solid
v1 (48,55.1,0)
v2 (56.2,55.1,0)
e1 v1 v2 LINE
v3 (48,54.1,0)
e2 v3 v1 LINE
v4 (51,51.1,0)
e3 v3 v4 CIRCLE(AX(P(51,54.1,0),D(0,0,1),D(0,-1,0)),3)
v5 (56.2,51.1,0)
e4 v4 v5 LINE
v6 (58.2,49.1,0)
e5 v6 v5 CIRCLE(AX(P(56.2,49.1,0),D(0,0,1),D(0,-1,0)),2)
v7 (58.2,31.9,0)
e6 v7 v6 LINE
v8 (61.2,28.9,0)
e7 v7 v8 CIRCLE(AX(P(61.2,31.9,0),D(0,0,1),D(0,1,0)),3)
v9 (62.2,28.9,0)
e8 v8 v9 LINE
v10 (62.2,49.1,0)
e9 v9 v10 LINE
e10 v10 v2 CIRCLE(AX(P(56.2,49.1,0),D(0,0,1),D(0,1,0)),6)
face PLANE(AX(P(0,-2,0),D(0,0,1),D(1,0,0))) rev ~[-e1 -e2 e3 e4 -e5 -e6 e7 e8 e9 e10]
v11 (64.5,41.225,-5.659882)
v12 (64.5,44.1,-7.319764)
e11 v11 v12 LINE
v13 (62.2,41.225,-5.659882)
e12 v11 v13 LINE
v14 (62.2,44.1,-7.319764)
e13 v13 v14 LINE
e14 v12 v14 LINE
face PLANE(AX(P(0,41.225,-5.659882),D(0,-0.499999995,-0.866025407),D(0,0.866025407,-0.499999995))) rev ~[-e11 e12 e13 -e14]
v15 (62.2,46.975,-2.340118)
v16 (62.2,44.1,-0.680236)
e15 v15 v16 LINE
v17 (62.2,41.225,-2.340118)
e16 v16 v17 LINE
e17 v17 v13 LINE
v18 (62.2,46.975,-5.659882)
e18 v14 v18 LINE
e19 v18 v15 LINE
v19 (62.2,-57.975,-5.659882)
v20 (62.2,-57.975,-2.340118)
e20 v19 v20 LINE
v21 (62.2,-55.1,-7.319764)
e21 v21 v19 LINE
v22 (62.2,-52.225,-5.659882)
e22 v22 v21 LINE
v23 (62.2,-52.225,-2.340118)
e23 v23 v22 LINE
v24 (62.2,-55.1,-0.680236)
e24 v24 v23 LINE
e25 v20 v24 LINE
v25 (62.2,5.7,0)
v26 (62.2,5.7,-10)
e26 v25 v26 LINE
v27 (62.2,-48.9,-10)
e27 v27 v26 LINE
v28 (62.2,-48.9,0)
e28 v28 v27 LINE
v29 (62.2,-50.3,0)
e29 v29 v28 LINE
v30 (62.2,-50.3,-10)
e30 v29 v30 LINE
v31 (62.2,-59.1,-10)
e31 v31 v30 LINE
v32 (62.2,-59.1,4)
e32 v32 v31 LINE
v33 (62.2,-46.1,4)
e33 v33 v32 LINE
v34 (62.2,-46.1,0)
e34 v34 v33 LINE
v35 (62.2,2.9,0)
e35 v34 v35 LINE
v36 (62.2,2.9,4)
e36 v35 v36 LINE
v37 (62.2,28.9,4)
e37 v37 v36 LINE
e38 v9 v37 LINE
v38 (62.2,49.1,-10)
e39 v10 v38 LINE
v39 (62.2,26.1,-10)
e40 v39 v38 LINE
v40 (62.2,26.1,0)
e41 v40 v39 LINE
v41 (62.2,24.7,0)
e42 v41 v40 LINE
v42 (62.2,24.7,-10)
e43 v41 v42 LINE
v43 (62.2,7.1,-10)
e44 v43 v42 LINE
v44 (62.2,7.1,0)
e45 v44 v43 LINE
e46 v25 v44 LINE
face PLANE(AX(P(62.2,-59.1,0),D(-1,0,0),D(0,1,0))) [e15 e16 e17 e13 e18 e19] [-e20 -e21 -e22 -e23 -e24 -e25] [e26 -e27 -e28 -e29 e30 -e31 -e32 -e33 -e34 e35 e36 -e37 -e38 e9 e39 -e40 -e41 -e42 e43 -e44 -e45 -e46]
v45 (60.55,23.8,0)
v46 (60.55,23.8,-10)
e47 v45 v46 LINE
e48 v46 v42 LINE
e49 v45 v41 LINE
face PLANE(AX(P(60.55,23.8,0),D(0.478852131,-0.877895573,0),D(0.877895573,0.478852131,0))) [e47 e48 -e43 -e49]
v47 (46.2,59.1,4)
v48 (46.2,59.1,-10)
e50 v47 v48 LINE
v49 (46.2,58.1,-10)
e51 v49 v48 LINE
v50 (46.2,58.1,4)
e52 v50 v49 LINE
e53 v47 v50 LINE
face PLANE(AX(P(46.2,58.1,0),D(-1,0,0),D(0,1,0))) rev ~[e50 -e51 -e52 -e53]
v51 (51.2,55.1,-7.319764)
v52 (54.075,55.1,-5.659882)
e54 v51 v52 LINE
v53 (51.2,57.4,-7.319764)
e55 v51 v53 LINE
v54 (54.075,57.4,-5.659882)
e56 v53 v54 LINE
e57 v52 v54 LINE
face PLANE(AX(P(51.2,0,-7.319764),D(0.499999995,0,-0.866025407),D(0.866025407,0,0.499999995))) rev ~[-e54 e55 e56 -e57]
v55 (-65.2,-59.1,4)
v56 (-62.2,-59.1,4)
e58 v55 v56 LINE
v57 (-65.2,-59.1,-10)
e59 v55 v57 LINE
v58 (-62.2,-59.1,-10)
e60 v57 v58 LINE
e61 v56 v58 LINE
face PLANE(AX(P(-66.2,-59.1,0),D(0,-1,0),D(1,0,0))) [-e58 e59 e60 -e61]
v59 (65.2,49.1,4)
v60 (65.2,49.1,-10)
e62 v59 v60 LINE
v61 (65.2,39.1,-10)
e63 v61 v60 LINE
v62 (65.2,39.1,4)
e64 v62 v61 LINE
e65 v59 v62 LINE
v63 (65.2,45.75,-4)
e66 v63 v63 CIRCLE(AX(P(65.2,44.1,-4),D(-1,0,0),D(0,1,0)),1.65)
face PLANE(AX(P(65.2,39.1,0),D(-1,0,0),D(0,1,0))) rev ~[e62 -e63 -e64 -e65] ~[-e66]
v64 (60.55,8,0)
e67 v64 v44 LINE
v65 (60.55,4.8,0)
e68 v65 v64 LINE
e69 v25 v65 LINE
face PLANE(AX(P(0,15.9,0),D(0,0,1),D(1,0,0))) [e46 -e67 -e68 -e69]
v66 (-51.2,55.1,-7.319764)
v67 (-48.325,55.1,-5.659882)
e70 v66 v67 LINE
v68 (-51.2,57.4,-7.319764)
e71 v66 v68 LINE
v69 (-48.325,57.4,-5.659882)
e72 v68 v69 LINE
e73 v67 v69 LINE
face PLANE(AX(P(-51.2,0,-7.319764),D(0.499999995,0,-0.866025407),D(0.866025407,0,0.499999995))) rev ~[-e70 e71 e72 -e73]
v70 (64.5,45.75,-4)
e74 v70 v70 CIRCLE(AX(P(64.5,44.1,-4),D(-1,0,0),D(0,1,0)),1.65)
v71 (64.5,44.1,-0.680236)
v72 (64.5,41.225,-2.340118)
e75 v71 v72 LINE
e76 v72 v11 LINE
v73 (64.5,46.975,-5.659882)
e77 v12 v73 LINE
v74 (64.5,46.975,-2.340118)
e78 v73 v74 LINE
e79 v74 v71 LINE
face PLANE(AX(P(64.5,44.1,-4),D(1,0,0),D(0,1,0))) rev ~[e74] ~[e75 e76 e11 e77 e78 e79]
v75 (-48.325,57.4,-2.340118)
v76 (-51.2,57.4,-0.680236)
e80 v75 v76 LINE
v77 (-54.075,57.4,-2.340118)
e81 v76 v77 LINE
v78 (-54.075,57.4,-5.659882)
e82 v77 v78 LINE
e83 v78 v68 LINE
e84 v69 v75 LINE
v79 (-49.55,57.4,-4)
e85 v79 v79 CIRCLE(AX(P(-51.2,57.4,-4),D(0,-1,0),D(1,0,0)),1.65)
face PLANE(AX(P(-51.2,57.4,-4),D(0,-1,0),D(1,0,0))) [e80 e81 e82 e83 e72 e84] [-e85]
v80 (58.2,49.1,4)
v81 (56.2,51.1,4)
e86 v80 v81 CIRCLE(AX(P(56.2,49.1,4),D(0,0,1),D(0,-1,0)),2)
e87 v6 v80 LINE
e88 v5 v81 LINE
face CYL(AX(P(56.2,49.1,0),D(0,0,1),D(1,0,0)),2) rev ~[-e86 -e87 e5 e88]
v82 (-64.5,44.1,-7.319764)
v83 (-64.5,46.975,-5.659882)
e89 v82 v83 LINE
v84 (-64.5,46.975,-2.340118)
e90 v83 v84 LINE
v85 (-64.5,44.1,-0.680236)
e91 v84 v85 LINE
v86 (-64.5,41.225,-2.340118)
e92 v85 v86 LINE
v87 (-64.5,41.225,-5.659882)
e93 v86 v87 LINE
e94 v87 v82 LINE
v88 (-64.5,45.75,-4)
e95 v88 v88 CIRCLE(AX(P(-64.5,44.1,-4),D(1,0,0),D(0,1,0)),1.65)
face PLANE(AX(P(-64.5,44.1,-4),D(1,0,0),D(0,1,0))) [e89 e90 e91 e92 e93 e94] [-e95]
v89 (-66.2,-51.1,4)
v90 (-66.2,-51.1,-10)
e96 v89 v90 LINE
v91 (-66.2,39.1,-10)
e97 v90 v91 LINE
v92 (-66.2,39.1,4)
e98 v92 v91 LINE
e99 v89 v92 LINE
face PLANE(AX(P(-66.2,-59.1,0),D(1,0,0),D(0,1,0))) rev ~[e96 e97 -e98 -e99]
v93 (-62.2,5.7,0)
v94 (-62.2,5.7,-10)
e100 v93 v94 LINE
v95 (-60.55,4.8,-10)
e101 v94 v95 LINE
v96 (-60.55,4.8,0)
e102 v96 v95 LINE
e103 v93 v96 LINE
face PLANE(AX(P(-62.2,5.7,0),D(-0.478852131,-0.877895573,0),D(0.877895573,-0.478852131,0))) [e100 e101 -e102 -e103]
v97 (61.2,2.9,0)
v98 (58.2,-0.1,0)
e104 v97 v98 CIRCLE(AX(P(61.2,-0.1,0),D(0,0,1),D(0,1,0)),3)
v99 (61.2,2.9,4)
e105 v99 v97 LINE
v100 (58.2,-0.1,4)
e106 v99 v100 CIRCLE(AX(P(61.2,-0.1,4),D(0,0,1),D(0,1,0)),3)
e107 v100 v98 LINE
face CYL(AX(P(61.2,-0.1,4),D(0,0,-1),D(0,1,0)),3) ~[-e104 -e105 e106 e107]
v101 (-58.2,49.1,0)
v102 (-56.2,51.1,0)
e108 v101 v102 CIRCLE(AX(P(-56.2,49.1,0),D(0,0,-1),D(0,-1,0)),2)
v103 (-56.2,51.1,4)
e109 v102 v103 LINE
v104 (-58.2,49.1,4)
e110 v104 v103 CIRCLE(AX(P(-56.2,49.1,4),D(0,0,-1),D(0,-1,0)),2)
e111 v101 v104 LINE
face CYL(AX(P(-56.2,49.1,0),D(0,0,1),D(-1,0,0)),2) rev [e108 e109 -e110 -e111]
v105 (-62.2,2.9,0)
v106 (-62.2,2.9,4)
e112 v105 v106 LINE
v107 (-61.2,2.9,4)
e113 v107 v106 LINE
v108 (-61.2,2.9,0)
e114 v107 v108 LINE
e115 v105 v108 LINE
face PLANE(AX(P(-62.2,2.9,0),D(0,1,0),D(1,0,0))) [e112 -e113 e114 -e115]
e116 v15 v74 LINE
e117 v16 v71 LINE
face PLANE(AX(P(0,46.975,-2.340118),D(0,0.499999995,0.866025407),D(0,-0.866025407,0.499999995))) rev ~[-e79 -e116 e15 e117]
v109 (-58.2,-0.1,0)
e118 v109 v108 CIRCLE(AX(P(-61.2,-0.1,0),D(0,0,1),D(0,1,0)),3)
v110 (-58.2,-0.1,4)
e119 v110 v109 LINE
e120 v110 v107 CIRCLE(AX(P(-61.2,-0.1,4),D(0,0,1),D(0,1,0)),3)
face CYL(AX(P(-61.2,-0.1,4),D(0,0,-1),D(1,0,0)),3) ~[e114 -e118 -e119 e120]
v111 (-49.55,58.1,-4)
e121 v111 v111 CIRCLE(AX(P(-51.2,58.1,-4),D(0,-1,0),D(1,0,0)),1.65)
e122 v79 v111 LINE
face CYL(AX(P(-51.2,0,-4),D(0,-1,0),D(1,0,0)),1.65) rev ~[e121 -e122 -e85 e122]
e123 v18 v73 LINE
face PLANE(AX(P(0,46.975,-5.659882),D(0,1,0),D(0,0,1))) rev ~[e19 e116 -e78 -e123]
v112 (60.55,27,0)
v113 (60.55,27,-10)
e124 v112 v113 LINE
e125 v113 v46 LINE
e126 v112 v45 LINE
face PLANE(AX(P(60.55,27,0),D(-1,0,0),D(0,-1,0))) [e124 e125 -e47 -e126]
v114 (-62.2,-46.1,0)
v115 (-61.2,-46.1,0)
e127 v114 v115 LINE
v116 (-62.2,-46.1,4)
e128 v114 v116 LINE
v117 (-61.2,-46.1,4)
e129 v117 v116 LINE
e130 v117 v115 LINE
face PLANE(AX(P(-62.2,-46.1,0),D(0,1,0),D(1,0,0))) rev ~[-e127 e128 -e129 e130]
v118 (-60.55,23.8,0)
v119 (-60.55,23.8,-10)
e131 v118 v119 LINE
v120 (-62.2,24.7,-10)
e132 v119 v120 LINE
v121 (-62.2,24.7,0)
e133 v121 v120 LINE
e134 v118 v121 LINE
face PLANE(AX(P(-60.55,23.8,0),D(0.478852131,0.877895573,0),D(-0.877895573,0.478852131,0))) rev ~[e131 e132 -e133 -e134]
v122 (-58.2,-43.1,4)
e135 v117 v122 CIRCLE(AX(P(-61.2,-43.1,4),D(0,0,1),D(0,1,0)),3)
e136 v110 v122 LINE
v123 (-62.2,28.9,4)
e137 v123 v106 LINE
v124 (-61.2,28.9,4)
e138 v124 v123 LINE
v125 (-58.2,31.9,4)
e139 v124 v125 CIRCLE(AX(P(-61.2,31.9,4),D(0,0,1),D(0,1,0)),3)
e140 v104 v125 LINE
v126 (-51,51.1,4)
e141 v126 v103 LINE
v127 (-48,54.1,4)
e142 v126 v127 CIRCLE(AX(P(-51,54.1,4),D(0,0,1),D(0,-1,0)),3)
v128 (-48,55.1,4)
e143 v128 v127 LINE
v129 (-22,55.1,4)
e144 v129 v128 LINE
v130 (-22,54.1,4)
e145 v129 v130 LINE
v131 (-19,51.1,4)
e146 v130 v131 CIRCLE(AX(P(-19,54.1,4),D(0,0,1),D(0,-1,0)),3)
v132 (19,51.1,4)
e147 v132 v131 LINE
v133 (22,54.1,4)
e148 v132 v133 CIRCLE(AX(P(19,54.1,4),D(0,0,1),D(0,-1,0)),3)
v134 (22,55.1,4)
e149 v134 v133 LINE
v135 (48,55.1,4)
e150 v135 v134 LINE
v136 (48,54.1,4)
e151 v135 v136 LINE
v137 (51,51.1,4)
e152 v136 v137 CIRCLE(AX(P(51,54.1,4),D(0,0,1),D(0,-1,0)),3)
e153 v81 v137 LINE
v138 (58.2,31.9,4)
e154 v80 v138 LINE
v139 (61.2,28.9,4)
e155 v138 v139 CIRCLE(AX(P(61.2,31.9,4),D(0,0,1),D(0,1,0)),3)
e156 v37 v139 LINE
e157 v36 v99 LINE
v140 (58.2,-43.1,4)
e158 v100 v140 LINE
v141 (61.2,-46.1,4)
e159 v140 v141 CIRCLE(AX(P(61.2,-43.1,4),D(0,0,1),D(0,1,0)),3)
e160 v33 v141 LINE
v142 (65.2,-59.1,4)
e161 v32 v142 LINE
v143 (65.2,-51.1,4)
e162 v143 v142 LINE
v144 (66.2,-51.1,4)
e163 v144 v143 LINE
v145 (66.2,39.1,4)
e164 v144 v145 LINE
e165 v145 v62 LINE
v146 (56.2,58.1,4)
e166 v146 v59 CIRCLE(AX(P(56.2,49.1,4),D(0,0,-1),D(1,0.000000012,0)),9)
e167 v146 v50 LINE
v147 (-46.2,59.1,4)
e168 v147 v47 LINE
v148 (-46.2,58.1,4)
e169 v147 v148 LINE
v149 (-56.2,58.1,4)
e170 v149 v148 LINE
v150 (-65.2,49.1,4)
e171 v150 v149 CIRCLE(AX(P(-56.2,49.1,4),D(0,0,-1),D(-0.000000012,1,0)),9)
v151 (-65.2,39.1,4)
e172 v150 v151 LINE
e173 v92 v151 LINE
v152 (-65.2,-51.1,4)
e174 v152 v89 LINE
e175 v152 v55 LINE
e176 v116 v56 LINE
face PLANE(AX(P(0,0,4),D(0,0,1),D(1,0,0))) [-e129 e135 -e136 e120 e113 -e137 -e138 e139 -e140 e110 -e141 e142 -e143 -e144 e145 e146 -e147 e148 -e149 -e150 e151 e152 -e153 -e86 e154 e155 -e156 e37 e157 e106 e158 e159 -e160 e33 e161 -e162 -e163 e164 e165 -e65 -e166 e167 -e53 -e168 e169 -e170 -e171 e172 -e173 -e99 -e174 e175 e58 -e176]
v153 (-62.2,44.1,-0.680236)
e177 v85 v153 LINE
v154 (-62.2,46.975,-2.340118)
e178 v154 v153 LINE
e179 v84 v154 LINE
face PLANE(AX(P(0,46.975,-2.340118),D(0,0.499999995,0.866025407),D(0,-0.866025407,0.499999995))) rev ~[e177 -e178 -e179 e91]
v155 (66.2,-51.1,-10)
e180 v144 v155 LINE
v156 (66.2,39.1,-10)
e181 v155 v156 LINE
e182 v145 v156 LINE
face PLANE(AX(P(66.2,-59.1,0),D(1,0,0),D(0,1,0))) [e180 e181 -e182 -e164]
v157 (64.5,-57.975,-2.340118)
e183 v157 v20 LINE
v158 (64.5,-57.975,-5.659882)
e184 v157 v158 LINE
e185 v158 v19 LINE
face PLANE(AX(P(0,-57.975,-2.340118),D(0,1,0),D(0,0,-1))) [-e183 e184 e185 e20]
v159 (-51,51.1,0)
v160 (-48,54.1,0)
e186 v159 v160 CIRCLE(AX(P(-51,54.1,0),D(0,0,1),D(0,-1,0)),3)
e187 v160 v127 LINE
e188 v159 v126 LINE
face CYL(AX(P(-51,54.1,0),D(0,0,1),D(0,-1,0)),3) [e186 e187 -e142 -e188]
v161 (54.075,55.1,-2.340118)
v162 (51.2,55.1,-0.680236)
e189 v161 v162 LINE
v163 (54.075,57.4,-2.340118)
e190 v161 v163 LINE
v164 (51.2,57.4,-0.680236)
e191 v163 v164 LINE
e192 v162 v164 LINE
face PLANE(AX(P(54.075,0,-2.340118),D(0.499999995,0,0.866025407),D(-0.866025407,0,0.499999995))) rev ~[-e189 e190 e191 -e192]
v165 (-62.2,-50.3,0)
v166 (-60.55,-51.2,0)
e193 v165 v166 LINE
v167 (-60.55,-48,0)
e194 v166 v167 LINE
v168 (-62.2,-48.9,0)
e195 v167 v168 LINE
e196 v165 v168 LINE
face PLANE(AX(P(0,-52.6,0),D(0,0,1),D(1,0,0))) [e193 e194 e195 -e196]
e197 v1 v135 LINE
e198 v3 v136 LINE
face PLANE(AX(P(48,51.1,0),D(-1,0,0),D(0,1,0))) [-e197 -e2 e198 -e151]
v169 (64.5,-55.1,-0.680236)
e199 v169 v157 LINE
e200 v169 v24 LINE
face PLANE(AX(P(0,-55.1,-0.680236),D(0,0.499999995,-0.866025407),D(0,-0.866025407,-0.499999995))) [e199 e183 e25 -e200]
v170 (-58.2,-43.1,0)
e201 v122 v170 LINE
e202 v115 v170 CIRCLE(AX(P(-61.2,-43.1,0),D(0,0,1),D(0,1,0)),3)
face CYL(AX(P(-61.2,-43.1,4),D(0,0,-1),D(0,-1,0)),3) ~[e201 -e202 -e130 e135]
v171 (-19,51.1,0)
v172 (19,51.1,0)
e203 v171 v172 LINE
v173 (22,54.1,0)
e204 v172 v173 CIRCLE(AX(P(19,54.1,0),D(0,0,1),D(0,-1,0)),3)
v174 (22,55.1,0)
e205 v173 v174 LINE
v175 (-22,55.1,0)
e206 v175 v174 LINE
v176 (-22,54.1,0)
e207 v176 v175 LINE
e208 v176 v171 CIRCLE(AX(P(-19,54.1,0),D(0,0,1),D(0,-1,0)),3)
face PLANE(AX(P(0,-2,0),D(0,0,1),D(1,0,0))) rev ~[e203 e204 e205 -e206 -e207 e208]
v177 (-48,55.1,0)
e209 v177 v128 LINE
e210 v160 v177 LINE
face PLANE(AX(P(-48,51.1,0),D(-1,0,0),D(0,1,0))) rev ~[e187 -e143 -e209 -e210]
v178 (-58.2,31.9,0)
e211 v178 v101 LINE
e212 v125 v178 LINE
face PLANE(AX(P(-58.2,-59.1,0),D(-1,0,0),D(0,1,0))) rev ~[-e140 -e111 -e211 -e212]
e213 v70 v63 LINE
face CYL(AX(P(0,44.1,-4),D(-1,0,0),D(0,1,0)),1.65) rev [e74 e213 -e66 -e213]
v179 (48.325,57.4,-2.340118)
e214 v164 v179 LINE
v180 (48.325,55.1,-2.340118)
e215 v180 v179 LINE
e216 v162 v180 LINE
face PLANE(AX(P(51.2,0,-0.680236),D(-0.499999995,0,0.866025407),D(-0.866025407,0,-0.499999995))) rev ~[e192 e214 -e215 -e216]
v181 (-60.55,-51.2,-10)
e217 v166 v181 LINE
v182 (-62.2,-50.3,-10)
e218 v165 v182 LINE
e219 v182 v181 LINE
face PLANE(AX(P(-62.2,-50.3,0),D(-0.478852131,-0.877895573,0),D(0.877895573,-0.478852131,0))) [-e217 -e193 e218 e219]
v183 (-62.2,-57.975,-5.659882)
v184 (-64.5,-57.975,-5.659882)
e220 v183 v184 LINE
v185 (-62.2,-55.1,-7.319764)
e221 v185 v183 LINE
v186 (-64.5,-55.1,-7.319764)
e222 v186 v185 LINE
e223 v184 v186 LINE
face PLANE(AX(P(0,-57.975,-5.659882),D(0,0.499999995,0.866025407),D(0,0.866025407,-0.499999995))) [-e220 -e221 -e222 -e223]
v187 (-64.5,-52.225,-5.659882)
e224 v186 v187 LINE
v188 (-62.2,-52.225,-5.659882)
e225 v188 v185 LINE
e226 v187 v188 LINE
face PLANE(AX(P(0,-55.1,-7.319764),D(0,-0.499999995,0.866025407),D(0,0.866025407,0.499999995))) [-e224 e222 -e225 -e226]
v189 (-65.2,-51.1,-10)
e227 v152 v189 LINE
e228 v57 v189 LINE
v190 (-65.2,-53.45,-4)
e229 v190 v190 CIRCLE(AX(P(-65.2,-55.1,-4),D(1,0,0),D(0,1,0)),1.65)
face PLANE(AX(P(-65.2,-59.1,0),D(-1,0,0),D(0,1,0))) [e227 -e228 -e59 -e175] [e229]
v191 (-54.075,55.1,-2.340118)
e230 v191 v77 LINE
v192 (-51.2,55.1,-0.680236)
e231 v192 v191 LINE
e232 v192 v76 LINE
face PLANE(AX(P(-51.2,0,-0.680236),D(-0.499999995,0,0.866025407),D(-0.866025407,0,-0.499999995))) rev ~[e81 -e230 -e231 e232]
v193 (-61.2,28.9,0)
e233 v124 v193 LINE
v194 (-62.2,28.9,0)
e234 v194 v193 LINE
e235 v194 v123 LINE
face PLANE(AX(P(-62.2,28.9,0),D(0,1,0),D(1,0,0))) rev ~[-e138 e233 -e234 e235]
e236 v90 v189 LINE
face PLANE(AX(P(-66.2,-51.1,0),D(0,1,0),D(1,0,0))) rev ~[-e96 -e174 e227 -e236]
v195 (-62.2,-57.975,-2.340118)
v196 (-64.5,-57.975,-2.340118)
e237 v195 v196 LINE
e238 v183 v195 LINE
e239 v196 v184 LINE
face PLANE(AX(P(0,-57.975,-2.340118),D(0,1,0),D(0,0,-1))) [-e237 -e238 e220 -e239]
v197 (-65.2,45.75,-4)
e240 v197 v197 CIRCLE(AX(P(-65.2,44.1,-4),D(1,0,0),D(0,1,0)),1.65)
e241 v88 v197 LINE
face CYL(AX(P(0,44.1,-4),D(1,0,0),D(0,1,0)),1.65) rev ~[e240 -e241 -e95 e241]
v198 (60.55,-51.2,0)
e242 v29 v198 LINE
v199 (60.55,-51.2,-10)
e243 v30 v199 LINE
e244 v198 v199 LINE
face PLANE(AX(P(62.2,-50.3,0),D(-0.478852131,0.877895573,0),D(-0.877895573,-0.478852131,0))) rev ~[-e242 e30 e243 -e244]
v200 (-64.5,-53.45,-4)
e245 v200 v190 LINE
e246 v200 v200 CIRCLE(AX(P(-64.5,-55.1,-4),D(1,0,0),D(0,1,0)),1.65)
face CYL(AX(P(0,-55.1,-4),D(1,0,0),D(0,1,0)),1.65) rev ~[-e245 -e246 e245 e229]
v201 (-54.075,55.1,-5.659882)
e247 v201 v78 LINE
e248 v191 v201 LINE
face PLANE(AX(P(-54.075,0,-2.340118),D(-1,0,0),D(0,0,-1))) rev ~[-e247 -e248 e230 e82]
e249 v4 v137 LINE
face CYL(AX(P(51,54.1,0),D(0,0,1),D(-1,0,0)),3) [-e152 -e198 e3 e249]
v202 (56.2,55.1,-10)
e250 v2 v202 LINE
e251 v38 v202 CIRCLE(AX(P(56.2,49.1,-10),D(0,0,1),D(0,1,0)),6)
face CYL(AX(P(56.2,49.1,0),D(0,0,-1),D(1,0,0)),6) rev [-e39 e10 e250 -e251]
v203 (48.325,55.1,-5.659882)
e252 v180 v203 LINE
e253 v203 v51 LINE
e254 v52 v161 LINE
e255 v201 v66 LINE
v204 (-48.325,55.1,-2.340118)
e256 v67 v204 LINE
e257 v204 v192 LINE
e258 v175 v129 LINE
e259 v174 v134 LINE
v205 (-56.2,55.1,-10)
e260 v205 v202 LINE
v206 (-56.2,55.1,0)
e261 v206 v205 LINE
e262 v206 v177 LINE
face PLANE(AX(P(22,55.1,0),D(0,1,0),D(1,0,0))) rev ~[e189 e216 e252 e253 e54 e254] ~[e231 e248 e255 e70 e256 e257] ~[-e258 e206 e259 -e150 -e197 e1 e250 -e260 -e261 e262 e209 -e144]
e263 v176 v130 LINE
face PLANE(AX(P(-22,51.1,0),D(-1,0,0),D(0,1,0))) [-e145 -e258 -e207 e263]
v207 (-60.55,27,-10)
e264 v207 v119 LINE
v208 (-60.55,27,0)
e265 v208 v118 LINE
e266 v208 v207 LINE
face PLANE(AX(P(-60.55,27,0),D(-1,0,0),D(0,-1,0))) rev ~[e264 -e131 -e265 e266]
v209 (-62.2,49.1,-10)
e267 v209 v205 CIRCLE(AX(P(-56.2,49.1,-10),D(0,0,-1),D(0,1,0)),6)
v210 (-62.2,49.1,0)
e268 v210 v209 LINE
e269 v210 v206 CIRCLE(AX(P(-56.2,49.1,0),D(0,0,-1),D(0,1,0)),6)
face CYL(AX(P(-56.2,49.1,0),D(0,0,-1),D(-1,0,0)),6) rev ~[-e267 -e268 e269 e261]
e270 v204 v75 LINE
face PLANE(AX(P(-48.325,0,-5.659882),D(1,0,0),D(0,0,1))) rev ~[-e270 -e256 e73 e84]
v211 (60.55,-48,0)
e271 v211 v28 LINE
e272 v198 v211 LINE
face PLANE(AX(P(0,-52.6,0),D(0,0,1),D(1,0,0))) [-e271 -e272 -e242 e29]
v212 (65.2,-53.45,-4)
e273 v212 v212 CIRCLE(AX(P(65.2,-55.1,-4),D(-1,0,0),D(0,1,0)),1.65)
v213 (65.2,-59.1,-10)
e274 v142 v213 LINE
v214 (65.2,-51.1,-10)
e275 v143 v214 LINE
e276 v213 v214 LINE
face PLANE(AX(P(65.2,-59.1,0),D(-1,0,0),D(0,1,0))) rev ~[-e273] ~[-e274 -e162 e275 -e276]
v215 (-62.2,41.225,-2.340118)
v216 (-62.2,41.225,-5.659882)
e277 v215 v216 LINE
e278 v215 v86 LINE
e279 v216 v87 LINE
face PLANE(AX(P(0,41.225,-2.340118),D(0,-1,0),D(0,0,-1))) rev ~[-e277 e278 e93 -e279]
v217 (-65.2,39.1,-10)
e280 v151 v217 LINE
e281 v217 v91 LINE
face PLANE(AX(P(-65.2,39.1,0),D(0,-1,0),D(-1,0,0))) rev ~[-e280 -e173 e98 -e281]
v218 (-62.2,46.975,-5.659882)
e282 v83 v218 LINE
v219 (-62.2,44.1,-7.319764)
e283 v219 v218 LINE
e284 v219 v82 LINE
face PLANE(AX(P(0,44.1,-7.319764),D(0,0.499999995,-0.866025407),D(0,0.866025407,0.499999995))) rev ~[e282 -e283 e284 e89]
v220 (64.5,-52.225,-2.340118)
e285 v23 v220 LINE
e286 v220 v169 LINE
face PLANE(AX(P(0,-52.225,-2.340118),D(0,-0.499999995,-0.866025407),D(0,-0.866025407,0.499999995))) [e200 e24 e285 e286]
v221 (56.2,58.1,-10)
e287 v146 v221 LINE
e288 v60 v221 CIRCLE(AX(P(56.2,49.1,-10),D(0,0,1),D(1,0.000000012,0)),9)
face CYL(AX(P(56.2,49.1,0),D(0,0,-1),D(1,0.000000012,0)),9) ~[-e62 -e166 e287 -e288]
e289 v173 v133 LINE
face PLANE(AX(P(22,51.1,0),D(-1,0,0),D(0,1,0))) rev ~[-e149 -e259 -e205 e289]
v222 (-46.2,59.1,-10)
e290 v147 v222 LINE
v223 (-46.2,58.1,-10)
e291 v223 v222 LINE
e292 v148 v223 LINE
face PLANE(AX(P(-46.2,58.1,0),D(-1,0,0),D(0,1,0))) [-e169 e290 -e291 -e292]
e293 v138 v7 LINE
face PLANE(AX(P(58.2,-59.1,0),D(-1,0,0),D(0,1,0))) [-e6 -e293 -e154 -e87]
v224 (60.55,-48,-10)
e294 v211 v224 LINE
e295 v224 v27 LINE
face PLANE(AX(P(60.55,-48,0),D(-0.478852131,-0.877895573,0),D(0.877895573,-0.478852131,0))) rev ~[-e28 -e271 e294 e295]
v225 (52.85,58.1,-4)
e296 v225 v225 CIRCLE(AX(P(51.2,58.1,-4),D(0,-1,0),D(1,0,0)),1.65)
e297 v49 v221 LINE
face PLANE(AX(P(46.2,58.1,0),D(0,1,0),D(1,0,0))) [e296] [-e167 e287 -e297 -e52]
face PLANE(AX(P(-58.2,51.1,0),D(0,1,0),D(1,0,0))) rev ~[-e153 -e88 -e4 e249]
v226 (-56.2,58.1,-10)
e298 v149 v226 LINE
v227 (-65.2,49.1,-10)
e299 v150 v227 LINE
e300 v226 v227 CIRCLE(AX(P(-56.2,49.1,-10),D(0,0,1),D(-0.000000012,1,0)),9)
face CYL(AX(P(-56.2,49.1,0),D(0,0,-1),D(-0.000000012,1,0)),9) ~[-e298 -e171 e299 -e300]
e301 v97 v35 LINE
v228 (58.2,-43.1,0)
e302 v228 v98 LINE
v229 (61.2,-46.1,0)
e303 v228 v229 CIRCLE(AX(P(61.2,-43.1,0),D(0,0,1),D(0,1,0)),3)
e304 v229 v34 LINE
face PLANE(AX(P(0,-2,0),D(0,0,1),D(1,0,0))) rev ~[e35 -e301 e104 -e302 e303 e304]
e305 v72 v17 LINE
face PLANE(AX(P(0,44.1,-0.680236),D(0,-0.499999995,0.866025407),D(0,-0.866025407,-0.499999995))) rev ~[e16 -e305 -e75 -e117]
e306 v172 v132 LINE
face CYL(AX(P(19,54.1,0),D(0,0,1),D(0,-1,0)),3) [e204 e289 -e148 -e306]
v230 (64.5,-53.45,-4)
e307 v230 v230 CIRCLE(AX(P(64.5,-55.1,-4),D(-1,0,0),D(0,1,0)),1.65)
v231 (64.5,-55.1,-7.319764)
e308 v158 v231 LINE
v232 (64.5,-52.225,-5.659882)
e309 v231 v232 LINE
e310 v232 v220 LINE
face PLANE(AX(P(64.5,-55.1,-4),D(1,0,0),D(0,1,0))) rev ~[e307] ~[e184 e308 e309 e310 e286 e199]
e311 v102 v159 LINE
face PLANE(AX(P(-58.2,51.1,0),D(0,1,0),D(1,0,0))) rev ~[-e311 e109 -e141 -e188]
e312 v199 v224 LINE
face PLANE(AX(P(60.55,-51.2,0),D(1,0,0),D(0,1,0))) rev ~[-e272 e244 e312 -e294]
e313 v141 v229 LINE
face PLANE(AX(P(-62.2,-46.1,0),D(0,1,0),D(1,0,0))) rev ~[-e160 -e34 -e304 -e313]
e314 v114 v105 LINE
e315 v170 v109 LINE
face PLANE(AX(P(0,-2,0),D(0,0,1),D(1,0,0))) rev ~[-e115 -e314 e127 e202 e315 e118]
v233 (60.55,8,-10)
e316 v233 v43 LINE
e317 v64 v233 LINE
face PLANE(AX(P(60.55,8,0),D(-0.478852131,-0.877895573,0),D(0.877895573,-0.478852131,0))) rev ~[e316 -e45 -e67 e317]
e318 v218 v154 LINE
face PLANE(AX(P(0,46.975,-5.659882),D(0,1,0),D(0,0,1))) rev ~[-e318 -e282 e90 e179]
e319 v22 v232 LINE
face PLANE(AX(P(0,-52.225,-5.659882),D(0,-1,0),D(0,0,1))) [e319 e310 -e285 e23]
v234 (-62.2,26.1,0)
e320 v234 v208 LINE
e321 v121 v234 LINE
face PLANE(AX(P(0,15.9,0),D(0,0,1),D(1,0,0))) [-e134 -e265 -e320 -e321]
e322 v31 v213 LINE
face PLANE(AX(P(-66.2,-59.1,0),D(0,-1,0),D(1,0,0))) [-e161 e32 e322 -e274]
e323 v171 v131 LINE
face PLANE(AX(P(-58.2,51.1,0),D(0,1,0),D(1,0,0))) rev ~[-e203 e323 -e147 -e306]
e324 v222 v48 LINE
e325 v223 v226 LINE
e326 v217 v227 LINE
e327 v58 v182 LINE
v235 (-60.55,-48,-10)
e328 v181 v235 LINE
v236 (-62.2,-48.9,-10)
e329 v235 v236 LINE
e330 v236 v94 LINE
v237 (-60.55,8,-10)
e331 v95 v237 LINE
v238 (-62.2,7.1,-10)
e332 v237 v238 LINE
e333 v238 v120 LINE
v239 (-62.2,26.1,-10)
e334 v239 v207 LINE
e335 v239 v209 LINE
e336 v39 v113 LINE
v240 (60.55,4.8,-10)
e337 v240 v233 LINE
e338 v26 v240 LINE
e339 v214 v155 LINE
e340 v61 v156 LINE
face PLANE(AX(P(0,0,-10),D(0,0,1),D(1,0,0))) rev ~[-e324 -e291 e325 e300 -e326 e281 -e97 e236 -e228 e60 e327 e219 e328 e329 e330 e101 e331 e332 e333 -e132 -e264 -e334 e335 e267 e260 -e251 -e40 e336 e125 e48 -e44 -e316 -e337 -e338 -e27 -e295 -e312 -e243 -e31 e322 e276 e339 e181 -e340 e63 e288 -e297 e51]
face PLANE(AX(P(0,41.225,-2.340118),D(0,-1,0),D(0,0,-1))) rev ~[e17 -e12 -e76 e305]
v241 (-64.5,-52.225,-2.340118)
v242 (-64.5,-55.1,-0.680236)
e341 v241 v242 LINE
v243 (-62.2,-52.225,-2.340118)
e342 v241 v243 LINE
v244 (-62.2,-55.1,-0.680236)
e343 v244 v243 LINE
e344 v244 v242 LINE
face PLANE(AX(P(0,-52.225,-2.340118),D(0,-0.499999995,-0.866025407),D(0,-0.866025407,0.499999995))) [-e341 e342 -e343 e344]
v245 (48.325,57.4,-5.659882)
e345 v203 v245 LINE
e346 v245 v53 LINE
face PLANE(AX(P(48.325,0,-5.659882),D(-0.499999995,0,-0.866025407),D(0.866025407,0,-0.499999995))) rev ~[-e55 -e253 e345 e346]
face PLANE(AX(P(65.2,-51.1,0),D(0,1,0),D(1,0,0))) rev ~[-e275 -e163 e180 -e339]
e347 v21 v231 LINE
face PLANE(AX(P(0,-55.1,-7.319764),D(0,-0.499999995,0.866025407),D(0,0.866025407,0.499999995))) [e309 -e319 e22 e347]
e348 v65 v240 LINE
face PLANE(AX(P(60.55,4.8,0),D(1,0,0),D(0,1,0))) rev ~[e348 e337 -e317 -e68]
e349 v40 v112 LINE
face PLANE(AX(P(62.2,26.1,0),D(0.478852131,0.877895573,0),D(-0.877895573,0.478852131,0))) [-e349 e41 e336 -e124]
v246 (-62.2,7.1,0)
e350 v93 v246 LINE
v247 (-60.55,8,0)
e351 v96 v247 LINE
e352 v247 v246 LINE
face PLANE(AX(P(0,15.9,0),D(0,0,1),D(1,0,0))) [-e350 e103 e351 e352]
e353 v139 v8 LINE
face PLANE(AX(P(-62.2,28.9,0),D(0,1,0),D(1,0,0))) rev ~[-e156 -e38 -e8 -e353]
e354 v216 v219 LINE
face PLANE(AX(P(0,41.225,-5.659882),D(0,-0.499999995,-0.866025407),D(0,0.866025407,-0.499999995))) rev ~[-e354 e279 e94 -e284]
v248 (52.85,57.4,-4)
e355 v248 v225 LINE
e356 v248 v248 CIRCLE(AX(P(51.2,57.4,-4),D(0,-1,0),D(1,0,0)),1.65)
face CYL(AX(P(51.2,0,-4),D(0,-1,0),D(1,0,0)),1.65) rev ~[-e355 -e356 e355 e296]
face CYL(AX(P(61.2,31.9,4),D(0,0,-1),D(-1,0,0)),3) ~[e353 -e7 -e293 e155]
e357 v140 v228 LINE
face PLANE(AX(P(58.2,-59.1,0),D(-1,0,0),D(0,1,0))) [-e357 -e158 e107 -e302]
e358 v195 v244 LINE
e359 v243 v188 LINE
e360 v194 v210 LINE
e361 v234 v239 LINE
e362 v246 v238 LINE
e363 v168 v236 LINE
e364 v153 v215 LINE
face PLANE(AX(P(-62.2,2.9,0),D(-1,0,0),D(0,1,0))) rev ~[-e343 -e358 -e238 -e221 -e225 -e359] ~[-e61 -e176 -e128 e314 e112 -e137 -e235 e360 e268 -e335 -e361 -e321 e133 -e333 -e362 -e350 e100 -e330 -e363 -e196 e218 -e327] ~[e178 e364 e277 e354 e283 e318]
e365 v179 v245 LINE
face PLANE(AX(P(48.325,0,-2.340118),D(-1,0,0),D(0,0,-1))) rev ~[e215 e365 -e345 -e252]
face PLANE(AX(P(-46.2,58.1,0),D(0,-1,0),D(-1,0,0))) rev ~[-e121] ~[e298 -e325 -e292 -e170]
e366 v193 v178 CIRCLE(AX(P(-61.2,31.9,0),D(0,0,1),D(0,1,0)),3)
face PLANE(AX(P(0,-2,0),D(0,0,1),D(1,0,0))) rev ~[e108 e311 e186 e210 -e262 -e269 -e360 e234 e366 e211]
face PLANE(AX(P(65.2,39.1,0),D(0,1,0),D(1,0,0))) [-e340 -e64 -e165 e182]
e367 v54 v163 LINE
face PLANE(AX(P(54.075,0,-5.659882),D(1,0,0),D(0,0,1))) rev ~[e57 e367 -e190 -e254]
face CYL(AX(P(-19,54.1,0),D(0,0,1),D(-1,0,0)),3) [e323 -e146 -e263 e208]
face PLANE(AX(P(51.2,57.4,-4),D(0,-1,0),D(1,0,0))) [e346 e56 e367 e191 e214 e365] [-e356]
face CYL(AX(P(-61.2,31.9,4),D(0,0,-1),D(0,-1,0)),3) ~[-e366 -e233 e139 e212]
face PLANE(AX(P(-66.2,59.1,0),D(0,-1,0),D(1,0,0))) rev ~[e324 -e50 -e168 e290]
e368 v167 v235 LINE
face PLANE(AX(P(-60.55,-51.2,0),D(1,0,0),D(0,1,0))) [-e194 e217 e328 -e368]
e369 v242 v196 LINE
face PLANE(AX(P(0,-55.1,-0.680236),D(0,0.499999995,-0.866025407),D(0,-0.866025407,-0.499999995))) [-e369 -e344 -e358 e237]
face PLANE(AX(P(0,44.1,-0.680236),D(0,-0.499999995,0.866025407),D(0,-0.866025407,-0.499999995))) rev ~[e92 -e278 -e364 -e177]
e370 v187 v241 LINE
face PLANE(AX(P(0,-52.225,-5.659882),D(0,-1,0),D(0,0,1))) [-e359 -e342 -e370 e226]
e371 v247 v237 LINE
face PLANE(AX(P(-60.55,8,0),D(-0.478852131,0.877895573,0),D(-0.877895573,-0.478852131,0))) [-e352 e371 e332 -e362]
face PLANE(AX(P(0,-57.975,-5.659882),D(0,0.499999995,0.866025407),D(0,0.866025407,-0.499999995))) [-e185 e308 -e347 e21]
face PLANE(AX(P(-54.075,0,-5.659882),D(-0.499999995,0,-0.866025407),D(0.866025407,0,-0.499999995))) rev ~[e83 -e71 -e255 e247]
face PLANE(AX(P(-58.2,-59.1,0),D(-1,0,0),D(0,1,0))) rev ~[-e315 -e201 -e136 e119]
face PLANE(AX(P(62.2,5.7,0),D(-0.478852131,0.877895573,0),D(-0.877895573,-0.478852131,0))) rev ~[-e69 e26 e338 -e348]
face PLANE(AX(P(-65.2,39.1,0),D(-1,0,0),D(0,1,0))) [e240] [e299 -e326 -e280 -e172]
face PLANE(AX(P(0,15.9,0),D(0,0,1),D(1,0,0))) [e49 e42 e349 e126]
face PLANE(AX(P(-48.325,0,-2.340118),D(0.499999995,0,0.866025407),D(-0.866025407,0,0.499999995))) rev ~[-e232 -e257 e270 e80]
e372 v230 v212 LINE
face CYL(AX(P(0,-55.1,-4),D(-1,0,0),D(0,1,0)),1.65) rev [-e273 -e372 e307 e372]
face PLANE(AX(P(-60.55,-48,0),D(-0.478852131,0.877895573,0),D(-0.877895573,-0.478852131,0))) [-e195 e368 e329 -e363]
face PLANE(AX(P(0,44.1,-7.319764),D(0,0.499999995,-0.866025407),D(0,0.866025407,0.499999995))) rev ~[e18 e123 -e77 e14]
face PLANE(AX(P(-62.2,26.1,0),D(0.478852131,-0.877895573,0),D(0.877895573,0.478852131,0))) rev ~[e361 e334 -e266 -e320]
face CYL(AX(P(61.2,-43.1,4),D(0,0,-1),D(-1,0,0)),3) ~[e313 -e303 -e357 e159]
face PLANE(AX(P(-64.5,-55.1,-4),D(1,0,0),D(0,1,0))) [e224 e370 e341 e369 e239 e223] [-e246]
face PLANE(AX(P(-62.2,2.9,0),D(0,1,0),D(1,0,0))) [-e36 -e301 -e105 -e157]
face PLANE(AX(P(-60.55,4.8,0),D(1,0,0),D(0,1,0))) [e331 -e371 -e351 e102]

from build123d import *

# Parameters (mm, degrees)
SKETCH_W             = 132.4
SKETCH_H             = 118.2
PAD_DEPTH            = 4
PAD_DEPTH_BACK       = 10
SKETCH001_W          = 124.4
SKETCH001_H          = 114.2
POCKET_DEPTH         = 10.001
SKETCH002_W          = 116.4
SKETCH002_H          = 110.2
POCKET001_DEPTH      = 5
FILLET_R             = 6
FILLET001_R          = 10
FILLET002_R          = 2
POCKET002_DEPTH      = 10.001
POCKET002_DEPTH_BACK = 4.001
PAD001_DEPTH         = 10
SKETCH005_W          = 1
SKETCH005_H          = 8
POCKET003_DEPTH      = 10.001
POCKET003_DEPTH_BACK = 4.001
SKETCH006_R          = 1.65
POCKET004_DEPTH      = 66.201
POCKET004_DEPTH_BACK = 66.201
POCKET005_DEPTH      = 64.5
SKETCH008_R          = 1.65
POCKET006_DEPTH      = 59.101
POCKET006_DEPTH_BACK = 59.101
POCKET007_DEPTH      = 57.4
SKETCH010_W          = 124.4
SKETCH010_H          = 13
SKETCH010_H_2        = 26
SKETCH010_W_2        = 26
SKETCH010_H_3        = 4
POCKET008_DEPTH      = 4.001
FILLET003_R          = 3


with BuildPart() as part:
    # Sketch → Pad (new body, two sides)
    with BuildSketch(Plane.XY) as pad_sk:
        Rectangle(SKETCH_W, SKETCH_H)
    extrude(amount=PAD_DEPTH)
    extrude(pad_sk.sketch, amount=-PAD_DEPTH_BACK)

    # Sketch001 → Pocket (cut, through all)
    with BuildSketch(Plane.XY):
        with Locations((0, -2)):
            Rectangle(SKETCH001_W, SKETCH001_H)
    extrude(amount=-POCKET_DEPTH, mode=Mode.SUBTRACT)

    # Sketch002 → Pocket001 (cut)
    with BuildSketch(Plane.XY):
        with Locations((0, -4)):
            Rectangle(SKETCH002_W, SKETCH002_H)
    extrude(amount=POCKET001_DEPTH, mode=Mode.SUBTRACT)

    # Fillet
    fillet_edges = [part.edges().sort_by_distance(p)[0] for p in [
        (-62.2, 55.1, -5),
        (62.2, 55.1, -5),
    ]]
    fillet(fillet_edges, radius=FILLET_R)

    # Fillet001
    fillet001_edges = [part.edges().sort_by_distance(p)[0] for p in [
        (-66.2, 59.1, -3),
        (66.2, 59.1, -3),
    ]]
    fillet(fillet001_edges, radius=FILLET001_R)

    # Fillet002
    fillet002_edges = [part.edges().sort_by_distance(p)[0] for p in [
        (-58.2, 51.1, 2),
        (58.2, 51.1, 2),
    ]]
    fillet(fillet002_edges, radius=FILLET002_R)

    # Sketch003 → Pocket002 (cut, two sides)
    with BuildSketch(Plane.XY) as pocket002_sk:
        with BuildLine():
            Line((-65.2, 39.1), (-65.2, 49.1))
            ThreePointArc((-56.2, 58.1), (-62.563961, 55.463961), (-65.2, 49.1))
            Line((-46.2, 58.1), (-56.2, 58.1))
            Line((-46.2, 58.1), (-46.2, 59.1))
            Line((-46.2, 59.1), (-56.2, 59.1))
            ThreePointArc((-56.2, 59.1), (-63.271068, 56.171068), (-66.2, 49.1))
            Line((-66.2, 39.1), (-66.2, 49.1))
            Line((-65.2, 39.1), (-66.2, 39.1))
        make_face()
        with BuildLine():
            Line((65.2, 39.1), (65.2, 49.1))
            ThreePointArc((65.2, 49.1), (62.563961, 55.463961), (56.2, 58.1))
            Line((46.2, 58.1), (56.2, 58.1))
            Line((46.2, 58.1), (46.2, 59.1))
            Line((46.2, 59.1), (56.2, 59.1))
            ThreePointArc((66.2, 49.1), (63.271068, 56.171068), (56.2, 59.1))
            Line((66.2, 39.1), (66.2, 49.1))
            Line((65.2, 39.1), (66.2, 39.1))
        make_face()
    extrude(amount=-POCKET002_DEPTH, mode=Mode.SUBTRACT)
    extrude(pocket002_sk.sketch, amount=POCKET002_DEPTH_BACK, mode=Mode.SUBTRACT)

    # Sketch004 → Pad001 (join)
    with BuildSketch(Plane.XY):
        Polygon((-62.2, 24.7), (-62.2, 26.1), (-60.55, 27), (-60.55, 23.8), align=None)
        Polygon((-62.2, 5.7), (-60.55, 4.8), (-60.55, 8), (-62.2, 7.1), align=None)
        Polygon((-62.2, -50.3), (-60.55, -51.2), (-60.55, -48), (-62.2, -48.9), align=None)
        Polygon((62.2, 24.7), (62.2, 26.1), (60.55, 27), (60.55, 23.8), align=None)
        Polygon((62.2, 5.7), (60.55, 4.8), (60.55, 8), (62.2, 7.1), align=None)
        Polygon((62.2, -50.3), (60.55, -51.2), (60.55, -48), (62.2, -48.9), align=None)
    extrude(amount=-PAD001_DEPTH)

    # Sketch005 → Pocket003 (cut, two sides)
    with BuildSketch(Plane.XY) as pocket003_sk:
        with Locations((-65.7, -55.1)):
            Rectangle(SKETCH005_W, SKETCH005_H)
        with Locations((65.7, -55.1)):
            Rectangle(SKETCH005_W, SKETCH005_H)
    extrude(amount=-POCKET003_DEPTH, mode=Mode.SUBTRACT)
    extrude(pocket003_sk.sketch, amount=POCKET003_DEPTH_BACK, mode=Mode.SUBTRACT)

    # Sketch006 → Pocket004 (cut, two sides)
    with BuildSketch(Plane.YZ) as pocket004_sk:
        with Locations((-55.1, -4)):
            Circle(SKETCH006_R)
        with Locations((44.1, -4)):
            Circle(SKETCH006_R)
    extrude(amount=-POCKET004_DEPTH, mode=Mode.SUBTRACT)
    extrude(pocket004_sk.sketch, amount=POCKET004_DEPTH_BACK, mode=Mode.SUBTRACT)

    # Sketch007 → Pocket005 (cut, symmetric)
    with BuildSketch(Plane.YZ):
        Polygon((-57.975, -5.659882), (-55.1, -7.319764), (-52.225, -5.659882), (-52.225, -2.340118), (-55.1, -0.680236), (-57.975, -2.340118), align=None)
        Polygon((44.1, -7.319764), (46.975, -5.659882), (46.975, -2.340118), (44.1, -0.680236), (41.225, -2.340118), (41.225, -5.659882), align=None)
    extrude(amount=POCKET005_DEPTH, both=True, mode=Mode.SUBTRACT)

    # Sketch008 → Pocket006 (cut, two sides)
    with BuildSketch(Plane.XZ) as pocket006_sk:
        with Locations((-51.2, -4)):
            Circle(SKETCH008_R)
        with Locations((51.2, -4)):
            Circle(SKETCH008_R)
    extrude(amount=-POCKET006_DEPTH, mode=Mode.SUBTRACT)
    extrude(pocket006_sk.sketch, amount=POCKET006_DEPTH_BACK, mode=Mode.SUBTRACT)

    # Sketch009 → Pocket007 (cut)
    with BuildSketch(Plane.XZ):
        Polygon((-51.2, -7.319764), (-48.325, -5.659882), (-48.325, -2.340118), (-51.2, -0.680236), (-54.075, -2.340118), (-54.075, -5.659882), align=None)
        Polygon((51.2, -7.319764), (54.075, -5.659882), (54.075, -2.340118), (51.2, -0.680236), (48.325, -2.340118), (48.325, -5.659882), align=None)
    extrude(amount=-POCKET007_DEPTH, mode=Mode.SUBTRACT)

    # Sketch010 → Pocket008 (cut, through all)
    with BuildSketch(Plane.XY):
        with Locations((0, -52.6)):
            Rectangle(SKETCH010_W, SKETCH010_H)
        with Locations((0, 15.9)):
            Rectangle(SKETCH010_W, SKETCH010_H_2)
        with Locations((-35, 53.1)):
            Rectangle(SKETCH010_W_2, SKETCH010_H_3)
        with Locations((35, 53.1)):
            Rectangle(SKETCH010_W_2, SKETCH010_H_3)
    extrude(amount=POCKET008_DEPTH, mode=Mode.SUBTRACT)

    # Fillet003
    fillet003_edges = [part.edges().sort_by_distance(p)[0] for p in [
        (-58.2, -46.1, 2),
        (-58.2, 2.9, 2),
        (-58.2, 28.9, 2),
        (-48, 51.1, 2),
        (-22, 51.1, 2),
        (22, 51.1, 2),
        (48, 51.1, 2),
        (58.2, 28.9, 2),
        (58.2, 2.9, 2),
        (58.2, -46.1, 2),
    ]]
    fillet(fillet003_edges, radius=FILLET003_R)


solid = part.part
